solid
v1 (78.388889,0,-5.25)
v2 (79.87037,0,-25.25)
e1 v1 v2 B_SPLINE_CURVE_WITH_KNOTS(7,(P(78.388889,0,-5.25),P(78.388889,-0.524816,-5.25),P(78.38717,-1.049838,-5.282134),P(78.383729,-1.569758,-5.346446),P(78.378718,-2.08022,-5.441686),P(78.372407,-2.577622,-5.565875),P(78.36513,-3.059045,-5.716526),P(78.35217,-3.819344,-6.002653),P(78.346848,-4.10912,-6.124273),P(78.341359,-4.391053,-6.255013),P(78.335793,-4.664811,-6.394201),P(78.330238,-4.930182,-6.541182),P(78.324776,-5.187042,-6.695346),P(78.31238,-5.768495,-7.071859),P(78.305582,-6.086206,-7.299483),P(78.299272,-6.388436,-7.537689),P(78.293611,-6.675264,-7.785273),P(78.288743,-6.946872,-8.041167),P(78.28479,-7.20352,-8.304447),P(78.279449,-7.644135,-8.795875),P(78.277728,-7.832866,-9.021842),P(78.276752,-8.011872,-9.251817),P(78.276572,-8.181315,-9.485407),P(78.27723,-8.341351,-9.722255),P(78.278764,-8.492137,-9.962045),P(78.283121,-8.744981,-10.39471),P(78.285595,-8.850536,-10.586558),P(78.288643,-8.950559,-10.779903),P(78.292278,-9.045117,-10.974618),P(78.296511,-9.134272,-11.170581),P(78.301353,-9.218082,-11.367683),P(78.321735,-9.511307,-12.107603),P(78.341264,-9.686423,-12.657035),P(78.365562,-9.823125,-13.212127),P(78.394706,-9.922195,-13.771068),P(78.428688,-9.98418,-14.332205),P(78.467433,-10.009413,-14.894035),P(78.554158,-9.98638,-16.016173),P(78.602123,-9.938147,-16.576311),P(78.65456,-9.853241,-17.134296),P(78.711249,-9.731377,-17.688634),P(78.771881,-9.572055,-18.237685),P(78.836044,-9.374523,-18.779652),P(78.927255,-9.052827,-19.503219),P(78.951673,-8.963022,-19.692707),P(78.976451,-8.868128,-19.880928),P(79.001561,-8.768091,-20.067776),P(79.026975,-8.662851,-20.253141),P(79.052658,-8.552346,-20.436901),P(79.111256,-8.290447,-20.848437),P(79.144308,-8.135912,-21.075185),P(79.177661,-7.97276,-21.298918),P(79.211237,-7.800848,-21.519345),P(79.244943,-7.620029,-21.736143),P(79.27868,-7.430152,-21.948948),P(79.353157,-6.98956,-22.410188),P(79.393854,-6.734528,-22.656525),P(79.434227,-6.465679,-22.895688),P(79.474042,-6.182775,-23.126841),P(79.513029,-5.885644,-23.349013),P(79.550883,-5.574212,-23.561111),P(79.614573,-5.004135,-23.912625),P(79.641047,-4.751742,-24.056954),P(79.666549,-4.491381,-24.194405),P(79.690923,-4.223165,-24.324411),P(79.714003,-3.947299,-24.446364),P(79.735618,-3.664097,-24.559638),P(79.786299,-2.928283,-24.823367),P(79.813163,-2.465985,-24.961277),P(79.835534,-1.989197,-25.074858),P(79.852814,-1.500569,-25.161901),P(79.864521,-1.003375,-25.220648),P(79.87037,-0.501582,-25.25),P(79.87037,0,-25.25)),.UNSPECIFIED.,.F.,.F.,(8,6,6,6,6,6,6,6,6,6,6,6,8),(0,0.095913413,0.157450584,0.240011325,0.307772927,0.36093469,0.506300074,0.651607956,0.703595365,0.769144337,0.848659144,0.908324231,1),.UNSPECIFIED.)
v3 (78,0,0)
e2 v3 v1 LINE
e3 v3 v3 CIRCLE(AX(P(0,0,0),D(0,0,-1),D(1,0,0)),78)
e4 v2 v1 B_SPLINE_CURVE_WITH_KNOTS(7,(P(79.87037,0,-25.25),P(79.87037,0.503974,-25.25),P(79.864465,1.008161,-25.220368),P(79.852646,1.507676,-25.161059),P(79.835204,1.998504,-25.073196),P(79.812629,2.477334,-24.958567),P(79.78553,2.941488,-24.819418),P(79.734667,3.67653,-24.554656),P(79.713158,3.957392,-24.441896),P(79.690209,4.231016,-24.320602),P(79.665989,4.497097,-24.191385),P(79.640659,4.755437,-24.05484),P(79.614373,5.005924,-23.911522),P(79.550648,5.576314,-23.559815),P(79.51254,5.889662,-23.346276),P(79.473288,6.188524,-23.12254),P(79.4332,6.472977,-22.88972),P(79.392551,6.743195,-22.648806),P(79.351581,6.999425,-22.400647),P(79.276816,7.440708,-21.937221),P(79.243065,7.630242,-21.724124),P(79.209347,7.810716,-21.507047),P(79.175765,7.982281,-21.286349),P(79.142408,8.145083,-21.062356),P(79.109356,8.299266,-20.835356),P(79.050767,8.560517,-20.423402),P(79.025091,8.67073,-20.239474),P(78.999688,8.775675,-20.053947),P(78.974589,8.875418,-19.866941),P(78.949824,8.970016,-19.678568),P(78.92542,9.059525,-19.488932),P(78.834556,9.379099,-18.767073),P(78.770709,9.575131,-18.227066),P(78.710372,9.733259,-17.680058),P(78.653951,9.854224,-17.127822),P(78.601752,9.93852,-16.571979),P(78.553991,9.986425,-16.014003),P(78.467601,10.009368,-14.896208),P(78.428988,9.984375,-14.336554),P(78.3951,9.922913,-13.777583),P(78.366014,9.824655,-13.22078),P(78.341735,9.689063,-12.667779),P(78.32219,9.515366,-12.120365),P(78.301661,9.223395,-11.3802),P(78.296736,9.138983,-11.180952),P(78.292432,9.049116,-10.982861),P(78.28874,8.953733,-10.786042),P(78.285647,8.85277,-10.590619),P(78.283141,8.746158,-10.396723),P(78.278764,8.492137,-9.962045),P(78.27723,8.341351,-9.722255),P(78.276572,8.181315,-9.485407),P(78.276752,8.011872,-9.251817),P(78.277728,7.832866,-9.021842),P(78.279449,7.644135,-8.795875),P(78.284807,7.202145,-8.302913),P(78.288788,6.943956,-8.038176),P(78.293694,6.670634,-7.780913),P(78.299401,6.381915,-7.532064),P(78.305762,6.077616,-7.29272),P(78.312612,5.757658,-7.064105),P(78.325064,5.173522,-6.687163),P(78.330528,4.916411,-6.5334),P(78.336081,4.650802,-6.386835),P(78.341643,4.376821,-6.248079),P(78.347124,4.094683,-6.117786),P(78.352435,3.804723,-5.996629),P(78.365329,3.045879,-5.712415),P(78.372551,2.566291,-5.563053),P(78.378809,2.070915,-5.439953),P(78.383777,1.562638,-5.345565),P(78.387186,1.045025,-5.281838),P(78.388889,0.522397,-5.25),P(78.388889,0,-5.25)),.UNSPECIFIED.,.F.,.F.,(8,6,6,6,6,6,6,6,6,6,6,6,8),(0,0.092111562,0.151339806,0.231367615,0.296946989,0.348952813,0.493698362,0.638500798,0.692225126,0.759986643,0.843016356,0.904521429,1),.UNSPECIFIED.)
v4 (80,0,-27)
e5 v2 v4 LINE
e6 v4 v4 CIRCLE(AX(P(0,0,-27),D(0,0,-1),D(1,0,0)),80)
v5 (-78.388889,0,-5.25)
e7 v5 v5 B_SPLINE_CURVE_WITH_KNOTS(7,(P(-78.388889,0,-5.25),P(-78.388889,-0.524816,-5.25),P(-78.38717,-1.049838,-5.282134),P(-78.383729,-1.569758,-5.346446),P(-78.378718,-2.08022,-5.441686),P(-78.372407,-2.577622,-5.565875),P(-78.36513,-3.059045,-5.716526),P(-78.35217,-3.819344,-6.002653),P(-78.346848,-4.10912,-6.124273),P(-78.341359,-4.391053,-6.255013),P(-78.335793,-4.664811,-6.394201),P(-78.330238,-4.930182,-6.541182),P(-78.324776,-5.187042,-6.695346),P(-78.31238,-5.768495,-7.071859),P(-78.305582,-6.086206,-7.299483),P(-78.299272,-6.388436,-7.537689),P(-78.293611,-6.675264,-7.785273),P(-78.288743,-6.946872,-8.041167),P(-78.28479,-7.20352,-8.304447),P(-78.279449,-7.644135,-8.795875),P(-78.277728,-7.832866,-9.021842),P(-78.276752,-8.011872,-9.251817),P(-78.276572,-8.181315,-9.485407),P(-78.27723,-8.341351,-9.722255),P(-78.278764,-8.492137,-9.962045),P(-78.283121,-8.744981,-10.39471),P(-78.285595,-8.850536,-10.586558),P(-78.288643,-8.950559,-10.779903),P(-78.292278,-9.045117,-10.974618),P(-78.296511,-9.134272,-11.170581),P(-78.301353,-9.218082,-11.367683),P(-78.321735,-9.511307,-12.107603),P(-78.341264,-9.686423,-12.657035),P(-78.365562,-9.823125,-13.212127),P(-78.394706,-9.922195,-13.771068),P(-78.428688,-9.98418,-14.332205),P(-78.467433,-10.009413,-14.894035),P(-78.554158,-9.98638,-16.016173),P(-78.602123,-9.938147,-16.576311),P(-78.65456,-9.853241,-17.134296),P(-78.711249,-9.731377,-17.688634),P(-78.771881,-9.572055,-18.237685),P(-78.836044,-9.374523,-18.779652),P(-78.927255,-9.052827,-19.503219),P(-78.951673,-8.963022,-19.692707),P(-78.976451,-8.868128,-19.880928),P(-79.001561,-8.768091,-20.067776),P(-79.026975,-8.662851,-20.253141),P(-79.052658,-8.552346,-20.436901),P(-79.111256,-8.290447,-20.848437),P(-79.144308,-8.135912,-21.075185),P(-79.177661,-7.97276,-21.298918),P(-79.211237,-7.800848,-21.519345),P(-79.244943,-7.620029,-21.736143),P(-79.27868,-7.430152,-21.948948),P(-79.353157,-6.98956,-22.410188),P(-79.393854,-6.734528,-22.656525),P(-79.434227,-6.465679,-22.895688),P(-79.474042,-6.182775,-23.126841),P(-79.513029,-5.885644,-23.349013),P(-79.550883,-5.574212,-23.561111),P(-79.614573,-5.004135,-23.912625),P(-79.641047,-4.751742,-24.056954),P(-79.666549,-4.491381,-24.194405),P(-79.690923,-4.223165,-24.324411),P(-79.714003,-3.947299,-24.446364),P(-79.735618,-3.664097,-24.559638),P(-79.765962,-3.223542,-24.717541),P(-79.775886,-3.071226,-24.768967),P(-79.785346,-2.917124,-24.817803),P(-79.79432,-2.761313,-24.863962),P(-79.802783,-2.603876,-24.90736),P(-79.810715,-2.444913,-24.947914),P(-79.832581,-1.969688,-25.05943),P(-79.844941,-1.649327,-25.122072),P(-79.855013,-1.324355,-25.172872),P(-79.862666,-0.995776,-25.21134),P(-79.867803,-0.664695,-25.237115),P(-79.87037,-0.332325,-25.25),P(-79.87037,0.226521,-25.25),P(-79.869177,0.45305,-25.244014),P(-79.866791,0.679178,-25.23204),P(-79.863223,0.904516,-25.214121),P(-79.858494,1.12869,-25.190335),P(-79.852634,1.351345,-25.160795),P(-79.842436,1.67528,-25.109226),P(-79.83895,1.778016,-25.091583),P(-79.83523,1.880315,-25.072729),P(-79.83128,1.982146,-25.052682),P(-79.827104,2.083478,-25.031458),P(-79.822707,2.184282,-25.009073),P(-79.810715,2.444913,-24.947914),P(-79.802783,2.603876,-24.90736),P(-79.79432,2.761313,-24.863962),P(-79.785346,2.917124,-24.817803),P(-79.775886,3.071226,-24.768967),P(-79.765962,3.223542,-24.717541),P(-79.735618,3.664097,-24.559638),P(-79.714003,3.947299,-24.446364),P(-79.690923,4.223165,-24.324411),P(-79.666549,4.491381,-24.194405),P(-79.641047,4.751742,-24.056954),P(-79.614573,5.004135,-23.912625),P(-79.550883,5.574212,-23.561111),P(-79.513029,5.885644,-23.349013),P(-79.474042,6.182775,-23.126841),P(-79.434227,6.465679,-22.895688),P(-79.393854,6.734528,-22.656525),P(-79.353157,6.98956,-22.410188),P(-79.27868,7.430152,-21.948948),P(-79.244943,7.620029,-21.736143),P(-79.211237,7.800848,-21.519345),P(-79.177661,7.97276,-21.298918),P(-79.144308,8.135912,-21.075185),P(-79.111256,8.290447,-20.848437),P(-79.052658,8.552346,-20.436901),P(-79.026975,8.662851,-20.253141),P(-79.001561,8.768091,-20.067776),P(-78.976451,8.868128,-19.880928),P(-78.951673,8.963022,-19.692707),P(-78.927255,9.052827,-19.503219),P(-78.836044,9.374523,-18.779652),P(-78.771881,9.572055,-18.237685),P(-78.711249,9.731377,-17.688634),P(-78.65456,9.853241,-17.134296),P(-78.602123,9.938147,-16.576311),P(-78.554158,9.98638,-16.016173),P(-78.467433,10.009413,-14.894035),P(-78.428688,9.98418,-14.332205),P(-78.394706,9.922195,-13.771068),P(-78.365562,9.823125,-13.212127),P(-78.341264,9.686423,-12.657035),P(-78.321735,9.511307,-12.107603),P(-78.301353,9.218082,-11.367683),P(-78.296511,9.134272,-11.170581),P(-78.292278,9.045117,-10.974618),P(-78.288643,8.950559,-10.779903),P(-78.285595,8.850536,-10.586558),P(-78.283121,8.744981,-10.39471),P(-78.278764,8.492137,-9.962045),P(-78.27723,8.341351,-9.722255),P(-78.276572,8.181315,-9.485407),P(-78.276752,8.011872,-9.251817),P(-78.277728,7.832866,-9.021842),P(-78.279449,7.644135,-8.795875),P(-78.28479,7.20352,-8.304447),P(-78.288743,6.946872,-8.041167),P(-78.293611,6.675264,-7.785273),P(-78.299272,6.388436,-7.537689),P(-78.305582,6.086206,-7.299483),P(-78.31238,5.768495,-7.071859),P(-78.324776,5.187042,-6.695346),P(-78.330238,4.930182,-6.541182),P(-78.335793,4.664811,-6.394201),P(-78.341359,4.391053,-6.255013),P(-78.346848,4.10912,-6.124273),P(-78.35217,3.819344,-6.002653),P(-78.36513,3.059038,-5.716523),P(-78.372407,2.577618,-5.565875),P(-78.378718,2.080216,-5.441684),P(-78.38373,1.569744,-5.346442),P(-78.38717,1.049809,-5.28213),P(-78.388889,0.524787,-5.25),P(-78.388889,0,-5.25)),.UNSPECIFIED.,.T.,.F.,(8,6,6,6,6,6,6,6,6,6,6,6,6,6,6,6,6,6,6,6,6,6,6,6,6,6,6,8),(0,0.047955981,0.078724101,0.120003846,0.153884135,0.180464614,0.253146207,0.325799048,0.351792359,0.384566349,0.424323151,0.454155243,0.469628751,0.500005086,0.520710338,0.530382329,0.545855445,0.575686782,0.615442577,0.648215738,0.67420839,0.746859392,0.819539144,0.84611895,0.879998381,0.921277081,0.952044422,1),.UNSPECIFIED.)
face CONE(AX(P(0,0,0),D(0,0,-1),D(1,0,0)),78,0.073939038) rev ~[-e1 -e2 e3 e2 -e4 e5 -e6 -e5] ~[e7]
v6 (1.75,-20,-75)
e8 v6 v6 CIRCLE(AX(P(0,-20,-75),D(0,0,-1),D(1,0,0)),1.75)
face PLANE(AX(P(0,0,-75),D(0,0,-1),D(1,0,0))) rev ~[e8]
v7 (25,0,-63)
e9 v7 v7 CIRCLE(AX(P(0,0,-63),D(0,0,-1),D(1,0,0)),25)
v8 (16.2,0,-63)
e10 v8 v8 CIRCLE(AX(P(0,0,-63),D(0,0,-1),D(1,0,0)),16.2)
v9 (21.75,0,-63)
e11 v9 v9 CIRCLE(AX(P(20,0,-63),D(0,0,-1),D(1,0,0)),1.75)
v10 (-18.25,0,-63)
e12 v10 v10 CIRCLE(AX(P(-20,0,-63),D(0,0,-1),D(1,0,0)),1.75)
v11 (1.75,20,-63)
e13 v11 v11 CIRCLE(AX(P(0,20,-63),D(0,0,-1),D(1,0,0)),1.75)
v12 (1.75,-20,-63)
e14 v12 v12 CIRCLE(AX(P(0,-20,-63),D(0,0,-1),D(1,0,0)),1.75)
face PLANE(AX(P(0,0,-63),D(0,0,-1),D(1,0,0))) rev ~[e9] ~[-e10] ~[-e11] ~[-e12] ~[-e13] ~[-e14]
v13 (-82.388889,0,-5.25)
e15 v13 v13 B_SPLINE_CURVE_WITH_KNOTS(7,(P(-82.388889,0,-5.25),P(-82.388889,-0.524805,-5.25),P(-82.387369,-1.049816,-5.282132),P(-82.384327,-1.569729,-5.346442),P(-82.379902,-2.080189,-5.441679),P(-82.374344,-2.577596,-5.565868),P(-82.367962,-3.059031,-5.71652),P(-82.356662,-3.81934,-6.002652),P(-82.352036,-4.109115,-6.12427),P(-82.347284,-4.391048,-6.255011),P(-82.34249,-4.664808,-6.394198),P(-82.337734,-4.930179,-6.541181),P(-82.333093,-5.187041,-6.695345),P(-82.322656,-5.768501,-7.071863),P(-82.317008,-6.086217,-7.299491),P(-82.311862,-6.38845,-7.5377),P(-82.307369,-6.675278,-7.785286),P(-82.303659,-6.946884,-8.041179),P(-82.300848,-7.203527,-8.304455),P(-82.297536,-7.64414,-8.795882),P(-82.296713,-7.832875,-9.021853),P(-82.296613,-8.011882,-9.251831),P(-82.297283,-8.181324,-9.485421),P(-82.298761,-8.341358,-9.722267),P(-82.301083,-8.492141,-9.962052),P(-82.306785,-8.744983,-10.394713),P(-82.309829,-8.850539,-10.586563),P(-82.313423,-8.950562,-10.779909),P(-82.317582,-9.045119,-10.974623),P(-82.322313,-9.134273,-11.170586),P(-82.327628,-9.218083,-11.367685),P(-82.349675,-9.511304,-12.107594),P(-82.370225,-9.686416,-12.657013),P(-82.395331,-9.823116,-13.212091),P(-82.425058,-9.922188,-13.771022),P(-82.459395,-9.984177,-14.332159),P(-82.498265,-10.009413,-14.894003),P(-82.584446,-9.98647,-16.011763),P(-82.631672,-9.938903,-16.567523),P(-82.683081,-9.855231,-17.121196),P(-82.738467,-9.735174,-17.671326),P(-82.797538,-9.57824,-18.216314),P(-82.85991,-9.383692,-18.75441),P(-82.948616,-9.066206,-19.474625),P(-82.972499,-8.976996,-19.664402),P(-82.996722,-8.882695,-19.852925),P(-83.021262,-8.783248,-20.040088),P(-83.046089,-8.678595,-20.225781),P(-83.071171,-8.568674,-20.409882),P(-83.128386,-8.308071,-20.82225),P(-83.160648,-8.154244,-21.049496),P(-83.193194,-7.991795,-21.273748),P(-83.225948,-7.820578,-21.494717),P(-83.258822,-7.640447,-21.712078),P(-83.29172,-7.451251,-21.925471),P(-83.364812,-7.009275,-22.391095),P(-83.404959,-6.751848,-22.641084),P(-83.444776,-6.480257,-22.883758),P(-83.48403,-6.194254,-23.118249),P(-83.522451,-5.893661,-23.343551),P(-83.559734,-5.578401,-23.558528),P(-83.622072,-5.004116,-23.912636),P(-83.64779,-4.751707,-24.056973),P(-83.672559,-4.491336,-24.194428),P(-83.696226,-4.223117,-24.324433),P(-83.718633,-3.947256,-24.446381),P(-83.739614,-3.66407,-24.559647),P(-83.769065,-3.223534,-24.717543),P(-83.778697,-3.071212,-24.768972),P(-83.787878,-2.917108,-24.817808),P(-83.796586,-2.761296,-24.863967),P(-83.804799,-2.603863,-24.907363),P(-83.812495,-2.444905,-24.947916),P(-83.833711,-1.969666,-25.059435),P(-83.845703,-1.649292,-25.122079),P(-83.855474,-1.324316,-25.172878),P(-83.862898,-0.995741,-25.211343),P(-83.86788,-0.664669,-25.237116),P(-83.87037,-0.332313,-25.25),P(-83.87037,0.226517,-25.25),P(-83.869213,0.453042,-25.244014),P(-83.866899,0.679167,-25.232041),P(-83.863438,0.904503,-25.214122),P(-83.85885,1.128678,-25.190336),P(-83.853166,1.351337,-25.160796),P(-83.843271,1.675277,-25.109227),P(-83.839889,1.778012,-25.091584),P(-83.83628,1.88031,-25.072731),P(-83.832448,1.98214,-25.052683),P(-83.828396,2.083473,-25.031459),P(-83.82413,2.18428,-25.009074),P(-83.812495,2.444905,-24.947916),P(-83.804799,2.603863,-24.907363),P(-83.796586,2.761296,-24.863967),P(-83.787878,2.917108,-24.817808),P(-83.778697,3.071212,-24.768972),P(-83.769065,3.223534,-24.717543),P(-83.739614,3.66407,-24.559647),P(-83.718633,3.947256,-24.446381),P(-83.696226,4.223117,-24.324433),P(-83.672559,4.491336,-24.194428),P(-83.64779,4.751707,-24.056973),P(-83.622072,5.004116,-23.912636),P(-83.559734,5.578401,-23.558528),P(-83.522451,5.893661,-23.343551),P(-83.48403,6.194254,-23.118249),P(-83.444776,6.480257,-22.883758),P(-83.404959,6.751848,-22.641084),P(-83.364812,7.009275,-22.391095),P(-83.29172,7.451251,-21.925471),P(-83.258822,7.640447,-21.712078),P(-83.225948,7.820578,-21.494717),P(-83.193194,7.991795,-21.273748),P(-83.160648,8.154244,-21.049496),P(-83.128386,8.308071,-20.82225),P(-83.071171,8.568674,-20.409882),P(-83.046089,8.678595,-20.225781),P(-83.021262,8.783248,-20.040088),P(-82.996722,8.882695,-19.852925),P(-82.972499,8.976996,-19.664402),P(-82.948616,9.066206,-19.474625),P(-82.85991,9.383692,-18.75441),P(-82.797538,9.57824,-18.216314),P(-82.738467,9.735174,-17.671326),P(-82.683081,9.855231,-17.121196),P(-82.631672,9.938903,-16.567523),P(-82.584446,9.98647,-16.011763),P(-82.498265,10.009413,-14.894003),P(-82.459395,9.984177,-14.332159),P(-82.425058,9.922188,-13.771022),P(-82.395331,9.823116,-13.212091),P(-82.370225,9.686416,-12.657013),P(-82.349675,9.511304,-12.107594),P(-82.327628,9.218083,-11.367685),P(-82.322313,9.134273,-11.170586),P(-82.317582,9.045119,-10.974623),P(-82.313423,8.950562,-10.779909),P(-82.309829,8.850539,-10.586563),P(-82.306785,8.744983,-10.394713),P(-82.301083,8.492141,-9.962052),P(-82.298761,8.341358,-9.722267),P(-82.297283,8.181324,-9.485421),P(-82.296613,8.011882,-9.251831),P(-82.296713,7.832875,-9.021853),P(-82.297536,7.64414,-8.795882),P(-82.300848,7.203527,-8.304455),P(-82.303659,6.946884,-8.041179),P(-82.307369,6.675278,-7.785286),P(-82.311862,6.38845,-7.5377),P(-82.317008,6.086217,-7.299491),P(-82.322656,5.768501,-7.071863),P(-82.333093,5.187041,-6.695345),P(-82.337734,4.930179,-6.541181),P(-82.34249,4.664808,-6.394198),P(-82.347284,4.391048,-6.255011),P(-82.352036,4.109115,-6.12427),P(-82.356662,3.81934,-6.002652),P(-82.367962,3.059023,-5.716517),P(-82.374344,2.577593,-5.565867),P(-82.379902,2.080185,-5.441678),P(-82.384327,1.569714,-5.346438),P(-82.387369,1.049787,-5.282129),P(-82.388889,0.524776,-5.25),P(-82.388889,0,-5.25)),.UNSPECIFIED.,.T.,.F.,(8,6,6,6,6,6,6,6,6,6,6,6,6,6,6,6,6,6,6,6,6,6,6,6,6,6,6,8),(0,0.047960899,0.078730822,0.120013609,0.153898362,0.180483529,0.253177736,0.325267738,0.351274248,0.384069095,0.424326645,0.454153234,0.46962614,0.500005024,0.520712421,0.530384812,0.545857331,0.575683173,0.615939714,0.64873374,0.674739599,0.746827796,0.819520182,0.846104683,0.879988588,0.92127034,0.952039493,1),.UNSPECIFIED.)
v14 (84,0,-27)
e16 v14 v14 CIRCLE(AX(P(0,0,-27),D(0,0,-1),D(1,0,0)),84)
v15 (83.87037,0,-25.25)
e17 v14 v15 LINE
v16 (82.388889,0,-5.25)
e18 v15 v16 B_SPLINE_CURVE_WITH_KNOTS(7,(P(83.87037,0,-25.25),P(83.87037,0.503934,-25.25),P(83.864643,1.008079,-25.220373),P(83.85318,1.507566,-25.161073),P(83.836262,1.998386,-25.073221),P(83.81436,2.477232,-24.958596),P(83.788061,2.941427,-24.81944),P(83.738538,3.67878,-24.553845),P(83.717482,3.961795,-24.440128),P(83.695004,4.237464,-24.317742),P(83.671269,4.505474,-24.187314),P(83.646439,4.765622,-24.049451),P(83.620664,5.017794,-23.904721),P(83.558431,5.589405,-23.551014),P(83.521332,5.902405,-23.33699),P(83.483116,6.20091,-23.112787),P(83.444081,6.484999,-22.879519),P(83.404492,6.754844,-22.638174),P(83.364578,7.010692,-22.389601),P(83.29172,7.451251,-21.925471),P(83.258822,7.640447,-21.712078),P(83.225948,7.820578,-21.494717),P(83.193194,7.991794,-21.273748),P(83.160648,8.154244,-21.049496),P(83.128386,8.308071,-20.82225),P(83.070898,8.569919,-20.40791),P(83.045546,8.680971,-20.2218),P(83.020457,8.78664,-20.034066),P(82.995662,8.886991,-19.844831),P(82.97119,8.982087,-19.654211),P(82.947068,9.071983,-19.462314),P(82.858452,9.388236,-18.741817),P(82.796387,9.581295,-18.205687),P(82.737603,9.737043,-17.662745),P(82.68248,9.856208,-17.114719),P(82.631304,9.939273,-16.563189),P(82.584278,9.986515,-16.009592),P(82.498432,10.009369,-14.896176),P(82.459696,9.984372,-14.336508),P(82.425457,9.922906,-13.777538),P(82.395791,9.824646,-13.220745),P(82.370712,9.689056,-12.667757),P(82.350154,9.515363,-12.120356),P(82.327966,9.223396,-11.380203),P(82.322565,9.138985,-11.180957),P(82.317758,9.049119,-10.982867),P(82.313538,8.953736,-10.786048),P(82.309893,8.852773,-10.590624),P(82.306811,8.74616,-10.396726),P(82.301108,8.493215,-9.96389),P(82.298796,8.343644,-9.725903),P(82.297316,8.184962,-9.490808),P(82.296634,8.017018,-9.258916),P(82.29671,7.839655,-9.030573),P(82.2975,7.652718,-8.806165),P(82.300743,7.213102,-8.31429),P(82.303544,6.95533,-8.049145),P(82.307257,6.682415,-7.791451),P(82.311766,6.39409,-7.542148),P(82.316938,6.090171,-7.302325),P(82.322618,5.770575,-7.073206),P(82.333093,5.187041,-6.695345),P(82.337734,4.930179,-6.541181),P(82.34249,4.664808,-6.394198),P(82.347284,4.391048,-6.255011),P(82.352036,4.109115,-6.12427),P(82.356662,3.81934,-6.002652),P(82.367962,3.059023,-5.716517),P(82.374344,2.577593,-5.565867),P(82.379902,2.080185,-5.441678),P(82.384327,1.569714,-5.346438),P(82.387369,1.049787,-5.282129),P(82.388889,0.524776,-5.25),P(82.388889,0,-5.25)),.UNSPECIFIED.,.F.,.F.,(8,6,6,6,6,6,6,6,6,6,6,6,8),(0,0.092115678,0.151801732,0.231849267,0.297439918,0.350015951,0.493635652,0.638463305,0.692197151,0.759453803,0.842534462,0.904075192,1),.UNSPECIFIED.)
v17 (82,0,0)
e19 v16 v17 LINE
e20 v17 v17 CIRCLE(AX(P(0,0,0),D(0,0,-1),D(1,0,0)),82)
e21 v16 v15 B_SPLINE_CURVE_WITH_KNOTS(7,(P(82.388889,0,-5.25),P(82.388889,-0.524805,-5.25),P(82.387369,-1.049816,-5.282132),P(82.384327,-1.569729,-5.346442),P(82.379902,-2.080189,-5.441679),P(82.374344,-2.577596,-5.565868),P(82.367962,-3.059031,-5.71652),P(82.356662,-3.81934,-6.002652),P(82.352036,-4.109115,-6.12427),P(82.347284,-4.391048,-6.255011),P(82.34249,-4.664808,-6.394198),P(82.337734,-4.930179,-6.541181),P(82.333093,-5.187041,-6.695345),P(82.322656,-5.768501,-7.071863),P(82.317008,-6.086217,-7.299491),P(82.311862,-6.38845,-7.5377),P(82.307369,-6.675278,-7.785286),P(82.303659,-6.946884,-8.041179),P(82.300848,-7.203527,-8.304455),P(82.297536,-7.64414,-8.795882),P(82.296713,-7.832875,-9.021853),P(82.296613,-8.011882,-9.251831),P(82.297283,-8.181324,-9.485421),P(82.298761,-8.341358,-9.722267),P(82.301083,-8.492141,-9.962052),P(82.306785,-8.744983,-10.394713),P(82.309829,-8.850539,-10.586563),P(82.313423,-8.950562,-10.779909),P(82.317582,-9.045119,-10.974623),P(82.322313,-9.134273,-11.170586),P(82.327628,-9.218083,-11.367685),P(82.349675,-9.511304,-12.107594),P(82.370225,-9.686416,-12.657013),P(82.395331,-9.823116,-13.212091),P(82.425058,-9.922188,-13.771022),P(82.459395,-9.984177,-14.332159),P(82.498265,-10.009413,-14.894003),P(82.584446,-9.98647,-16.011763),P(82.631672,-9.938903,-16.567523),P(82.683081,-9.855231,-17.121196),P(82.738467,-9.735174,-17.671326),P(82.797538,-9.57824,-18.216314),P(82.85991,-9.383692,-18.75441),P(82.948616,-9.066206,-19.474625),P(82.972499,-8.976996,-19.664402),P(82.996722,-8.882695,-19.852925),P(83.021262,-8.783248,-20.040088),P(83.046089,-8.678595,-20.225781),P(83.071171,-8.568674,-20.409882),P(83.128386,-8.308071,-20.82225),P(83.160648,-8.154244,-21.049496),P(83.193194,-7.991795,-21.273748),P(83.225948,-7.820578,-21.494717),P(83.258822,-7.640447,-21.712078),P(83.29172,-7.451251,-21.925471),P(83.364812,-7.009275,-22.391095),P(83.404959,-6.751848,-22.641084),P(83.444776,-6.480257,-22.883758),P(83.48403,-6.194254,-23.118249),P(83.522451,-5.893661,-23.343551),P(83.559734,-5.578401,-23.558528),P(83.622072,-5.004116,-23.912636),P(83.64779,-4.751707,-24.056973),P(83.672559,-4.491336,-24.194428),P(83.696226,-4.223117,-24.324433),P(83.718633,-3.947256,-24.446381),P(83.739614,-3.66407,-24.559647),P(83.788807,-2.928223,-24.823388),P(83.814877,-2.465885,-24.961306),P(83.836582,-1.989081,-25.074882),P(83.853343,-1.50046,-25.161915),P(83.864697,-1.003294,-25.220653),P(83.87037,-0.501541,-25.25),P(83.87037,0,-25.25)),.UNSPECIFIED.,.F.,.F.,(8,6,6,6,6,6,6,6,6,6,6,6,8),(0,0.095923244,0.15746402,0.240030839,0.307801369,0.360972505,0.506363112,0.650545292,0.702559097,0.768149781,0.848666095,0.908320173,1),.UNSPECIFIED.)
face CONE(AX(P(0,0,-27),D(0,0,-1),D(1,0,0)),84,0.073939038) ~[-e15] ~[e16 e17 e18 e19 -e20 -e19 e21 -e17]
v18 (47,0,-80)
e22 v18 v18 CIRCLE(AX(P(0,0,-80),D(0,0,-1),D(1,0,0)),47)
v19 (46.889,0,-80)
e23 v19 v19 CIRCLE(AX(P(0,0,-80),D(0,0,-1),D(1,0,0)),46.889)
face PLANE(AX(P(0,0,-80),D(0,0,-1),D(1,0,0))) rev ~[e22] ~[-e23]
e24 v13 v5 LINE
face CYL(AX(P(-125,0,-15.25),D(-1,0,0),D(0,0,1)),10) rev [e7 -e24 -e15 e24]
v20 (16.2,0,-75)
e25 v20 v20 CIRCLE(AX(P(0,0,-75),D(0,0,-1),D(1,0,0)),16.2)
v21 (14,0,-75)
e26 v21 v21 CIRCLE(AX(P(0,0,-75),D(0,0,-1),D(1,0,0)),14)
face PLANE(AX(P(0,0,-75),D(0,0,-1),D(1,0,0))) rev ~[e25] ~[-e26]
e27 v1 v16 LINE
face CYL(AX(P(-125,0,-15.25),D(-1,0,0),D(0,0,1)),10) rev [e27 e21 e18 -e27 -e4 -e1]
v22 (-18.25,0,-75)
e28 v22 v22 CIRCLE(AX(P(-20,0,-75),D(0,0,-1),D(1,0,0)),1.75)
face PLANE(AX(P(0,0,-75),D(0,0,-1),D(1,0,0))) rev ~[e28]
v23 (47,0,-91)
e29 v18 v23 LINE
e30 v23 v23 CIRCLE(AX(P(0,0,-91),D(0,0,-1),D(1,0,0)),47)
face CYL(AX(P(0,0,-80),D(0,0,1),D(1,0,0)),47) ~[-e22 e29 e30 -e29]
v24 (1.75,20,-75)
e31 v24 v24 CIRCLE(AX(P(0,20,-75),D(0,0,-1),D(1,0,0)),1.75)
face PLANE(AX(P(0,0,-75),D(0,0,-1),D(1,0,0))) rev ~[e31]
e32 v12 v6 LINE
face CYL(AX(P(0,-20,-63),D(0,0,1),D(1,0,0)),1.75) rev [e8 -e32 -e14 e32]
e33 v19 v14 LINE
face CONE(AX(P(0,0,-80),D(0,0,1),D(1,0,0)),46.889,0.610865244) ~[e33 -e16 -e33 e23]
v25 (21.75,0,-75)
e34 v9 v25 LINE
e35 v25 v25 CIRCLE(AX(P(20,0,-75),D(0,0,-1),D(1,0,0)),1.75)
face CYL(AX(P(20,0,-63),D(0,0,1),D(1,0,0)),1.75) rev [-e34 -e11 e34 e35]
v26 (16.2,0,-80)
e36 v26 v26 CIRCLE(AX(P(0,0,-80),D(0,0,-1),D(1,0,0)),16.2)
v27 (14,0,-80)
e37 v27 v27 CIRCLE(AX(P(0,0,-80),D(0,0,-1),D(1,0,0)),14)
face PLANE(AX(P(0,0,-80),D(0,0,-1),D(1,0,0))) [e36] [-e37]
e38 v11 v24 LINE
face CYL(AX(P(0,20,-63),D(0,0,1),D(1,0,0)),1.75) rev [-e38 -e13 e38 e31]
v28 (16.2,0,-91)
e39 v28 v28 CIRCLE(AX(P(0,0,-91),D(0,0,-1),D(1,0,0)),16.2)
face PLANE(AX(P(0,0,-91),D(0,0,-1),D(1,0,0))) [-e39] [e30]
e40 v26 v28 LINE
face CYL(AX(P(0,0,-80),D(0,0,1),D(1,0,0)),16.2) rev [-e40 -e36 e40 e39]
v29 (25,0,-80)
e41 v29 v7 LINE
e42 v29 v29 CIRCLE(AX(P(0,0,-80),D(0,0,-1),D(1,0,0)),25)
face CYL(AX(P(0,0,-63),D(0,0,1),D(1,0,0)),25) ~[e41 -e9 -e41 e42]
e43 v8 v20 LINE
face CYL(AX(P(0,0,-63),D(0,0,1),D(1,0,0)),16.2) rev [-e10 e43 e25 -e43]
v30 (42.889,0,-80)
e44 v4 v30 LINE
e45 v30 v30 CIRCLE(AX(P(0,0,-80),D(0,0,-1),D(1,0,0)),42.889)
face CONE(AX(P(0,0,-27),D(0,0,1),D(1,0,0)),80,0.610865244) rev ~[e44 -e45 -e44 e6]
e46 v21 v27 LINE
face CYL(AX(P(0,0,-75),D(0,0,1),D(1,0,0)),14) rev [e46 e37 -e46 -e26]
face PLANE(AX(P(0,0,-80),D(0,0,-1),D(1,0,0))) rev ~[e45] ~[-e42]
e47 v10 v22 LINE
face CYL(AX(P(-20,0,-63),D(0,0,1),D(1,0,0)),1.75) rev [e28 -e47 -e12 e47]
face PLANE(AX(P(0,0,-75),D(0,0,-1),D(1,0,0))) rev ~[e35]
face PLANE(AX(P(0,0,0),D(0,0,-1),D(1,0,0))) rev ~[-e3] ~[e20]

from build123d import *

# Parameters (mm, degrees)
CYLINDER_R                        = 10
CYLINDER_DEPTH                    = 250
CYLINDER_PITCH_ANGLE              = 90
REVOLVE_ONTO_SKETCH006_ROLL_ANGLE = 90
SKETCH003_R                       = 25
SKETCH003_R_2                     = 14
EXTRUDE003_DEPTH                  = 5
SKETCH005_R                       = 1.75
EXTRUDE005_DEPTH                  = 12
SKETCH004_R                       = 25
SKETCH004_R_2                     = 16.2
EXTRUDE004_DEPTH                  = 12
SKETCH002_R                       = 47
SKETCH002_R_2                     = 16.2
EXTRUDE002_DEPTH                  = 11
FUSION001_PLACEMENT_ANGLE         = 180


with BuildPart() as cylinder:
    # Cylinder → Cylinder (new body)
    with BuildSketch(Plane.XY):
        Circle(CYLINDER_R)
    extrude(amount=CYLINDER_DEPTH)


with BuildPart() as cylinder_1:
    # Cylinder pitch: moved
    add(cylinder.part.rotate(Axis((0, 0, 0), (0, 1, 0)), CYLINDER_PITCH_ANGLE))


with BuildPart() as cylinder_2:
    # Cylinder placement: moved
    add(cylinder_1.part.moved(Location((-125, 0, 15.25))))


with BuildPart() as cut001:
    # Sketch006 as drawn → Revolve (revolve)
    with BuildSketch(Plane.XY):
        Polygon((80, 27), (42.889, 80), (46.889, 80), (84, 27), (82, 0), (78, 0), align=None)
    revolve(axis=Axis((0, 0, 0), (0, 1, 0)))


with BuildPart() as cut001_1:
    # Revolve onto Sketch006 roll: moved
    add(cut001.part.rotate(Axis((0, 0, 0), (1, 0, 0)), REVOLVE_ONTO_SKETCH006_ROLL_ANGLE))


with BuildPart() as cut001_2:
    # Revolve onto Sketch006 placement: moved
    add(cut001_1.part)

    # Cut001: cut Cylinder
    add(cylinder_2.part, mode=Mode.SUBTRACT)


with BuildPart() as extrude003:
    # Sketch003 → Extrude003 (new body)
    with BuildSketch(Plane.XY):
        Circle(SKETCH003_R)
        Circle(SKETCH003_R_2, mode=Mode.SUBTRACT)
    extrude(amount=EXTRUDE003_DEPTH)


with BuildPart() as extrude003_1:
    # Extrude003 placement: moved
    add(extrude003.part.moved(Location((0, 0, 12))))


with BuildPart() as extrude005:
    # Sketch005 → Extrude005 (new body)
    with BuildSketch(Plane.XY):
        with Locations((-20, 0)):
            Circle(SKETCH005_R)
        with Locations((0, -20)):
            Circle(SKETCH005_R)
        with Locations((20, 0)):
            Circle(SKETCH005_R)
        with Locations((0, 20)):
            Circle(SKETCH005_R)
    extrude(amount=EXTRUDE005_DEPTH)


with BuildPart() as cut:
    # Sketch004 → Extrude004 (new body)
    with BuildSketch(Plane.XY):
        Circle(SKETCH004_R)
        Circle(SKETCH004_R_2, mode=Mode.SUBTRACT)
    extrude(amount=EXTRUDE004_DEPTH)

    # Cut: cut Extrude005
    add(extrude005.part, mode=Mode.SUBTRACT)


with BuildPart() as fusion001:
    # Sketch002 → Extrude002 (new body)
    with BuildSketch(Plane.XY):
        Circle(SKETCH002_R)
        Circle(SKETCH002_R_2, mode=Mode.SUBTRACT)
    extrude(amount=EXTRUDE002_DEPTH)


with BuildPart() as fusion001_1:
    # Extrude002 placement: moved
    add(fusion001.part.moved(Location((0, 0, 17))))

    # Fusion: union Extrude003, Cut
    add(extrude003_1.part)
    add(cut.part)


with BuildPart() as fusion001_2:
    # Fusion placement: moved
    add(fusion001_1.part.moved(Location((0, 0, 63))))

    # Fusion001: union Cut001
    add(cut001_2.part)


with BuildPart() as fusion001_3:
    # Fusion001 placement: moved
    add(fusion001_2.part.rotate(Axis((0, 0, 0), (1, 0, 0)), FUSION001_PLACEMENT_ANGLE))


solid = fusion001_3.part
